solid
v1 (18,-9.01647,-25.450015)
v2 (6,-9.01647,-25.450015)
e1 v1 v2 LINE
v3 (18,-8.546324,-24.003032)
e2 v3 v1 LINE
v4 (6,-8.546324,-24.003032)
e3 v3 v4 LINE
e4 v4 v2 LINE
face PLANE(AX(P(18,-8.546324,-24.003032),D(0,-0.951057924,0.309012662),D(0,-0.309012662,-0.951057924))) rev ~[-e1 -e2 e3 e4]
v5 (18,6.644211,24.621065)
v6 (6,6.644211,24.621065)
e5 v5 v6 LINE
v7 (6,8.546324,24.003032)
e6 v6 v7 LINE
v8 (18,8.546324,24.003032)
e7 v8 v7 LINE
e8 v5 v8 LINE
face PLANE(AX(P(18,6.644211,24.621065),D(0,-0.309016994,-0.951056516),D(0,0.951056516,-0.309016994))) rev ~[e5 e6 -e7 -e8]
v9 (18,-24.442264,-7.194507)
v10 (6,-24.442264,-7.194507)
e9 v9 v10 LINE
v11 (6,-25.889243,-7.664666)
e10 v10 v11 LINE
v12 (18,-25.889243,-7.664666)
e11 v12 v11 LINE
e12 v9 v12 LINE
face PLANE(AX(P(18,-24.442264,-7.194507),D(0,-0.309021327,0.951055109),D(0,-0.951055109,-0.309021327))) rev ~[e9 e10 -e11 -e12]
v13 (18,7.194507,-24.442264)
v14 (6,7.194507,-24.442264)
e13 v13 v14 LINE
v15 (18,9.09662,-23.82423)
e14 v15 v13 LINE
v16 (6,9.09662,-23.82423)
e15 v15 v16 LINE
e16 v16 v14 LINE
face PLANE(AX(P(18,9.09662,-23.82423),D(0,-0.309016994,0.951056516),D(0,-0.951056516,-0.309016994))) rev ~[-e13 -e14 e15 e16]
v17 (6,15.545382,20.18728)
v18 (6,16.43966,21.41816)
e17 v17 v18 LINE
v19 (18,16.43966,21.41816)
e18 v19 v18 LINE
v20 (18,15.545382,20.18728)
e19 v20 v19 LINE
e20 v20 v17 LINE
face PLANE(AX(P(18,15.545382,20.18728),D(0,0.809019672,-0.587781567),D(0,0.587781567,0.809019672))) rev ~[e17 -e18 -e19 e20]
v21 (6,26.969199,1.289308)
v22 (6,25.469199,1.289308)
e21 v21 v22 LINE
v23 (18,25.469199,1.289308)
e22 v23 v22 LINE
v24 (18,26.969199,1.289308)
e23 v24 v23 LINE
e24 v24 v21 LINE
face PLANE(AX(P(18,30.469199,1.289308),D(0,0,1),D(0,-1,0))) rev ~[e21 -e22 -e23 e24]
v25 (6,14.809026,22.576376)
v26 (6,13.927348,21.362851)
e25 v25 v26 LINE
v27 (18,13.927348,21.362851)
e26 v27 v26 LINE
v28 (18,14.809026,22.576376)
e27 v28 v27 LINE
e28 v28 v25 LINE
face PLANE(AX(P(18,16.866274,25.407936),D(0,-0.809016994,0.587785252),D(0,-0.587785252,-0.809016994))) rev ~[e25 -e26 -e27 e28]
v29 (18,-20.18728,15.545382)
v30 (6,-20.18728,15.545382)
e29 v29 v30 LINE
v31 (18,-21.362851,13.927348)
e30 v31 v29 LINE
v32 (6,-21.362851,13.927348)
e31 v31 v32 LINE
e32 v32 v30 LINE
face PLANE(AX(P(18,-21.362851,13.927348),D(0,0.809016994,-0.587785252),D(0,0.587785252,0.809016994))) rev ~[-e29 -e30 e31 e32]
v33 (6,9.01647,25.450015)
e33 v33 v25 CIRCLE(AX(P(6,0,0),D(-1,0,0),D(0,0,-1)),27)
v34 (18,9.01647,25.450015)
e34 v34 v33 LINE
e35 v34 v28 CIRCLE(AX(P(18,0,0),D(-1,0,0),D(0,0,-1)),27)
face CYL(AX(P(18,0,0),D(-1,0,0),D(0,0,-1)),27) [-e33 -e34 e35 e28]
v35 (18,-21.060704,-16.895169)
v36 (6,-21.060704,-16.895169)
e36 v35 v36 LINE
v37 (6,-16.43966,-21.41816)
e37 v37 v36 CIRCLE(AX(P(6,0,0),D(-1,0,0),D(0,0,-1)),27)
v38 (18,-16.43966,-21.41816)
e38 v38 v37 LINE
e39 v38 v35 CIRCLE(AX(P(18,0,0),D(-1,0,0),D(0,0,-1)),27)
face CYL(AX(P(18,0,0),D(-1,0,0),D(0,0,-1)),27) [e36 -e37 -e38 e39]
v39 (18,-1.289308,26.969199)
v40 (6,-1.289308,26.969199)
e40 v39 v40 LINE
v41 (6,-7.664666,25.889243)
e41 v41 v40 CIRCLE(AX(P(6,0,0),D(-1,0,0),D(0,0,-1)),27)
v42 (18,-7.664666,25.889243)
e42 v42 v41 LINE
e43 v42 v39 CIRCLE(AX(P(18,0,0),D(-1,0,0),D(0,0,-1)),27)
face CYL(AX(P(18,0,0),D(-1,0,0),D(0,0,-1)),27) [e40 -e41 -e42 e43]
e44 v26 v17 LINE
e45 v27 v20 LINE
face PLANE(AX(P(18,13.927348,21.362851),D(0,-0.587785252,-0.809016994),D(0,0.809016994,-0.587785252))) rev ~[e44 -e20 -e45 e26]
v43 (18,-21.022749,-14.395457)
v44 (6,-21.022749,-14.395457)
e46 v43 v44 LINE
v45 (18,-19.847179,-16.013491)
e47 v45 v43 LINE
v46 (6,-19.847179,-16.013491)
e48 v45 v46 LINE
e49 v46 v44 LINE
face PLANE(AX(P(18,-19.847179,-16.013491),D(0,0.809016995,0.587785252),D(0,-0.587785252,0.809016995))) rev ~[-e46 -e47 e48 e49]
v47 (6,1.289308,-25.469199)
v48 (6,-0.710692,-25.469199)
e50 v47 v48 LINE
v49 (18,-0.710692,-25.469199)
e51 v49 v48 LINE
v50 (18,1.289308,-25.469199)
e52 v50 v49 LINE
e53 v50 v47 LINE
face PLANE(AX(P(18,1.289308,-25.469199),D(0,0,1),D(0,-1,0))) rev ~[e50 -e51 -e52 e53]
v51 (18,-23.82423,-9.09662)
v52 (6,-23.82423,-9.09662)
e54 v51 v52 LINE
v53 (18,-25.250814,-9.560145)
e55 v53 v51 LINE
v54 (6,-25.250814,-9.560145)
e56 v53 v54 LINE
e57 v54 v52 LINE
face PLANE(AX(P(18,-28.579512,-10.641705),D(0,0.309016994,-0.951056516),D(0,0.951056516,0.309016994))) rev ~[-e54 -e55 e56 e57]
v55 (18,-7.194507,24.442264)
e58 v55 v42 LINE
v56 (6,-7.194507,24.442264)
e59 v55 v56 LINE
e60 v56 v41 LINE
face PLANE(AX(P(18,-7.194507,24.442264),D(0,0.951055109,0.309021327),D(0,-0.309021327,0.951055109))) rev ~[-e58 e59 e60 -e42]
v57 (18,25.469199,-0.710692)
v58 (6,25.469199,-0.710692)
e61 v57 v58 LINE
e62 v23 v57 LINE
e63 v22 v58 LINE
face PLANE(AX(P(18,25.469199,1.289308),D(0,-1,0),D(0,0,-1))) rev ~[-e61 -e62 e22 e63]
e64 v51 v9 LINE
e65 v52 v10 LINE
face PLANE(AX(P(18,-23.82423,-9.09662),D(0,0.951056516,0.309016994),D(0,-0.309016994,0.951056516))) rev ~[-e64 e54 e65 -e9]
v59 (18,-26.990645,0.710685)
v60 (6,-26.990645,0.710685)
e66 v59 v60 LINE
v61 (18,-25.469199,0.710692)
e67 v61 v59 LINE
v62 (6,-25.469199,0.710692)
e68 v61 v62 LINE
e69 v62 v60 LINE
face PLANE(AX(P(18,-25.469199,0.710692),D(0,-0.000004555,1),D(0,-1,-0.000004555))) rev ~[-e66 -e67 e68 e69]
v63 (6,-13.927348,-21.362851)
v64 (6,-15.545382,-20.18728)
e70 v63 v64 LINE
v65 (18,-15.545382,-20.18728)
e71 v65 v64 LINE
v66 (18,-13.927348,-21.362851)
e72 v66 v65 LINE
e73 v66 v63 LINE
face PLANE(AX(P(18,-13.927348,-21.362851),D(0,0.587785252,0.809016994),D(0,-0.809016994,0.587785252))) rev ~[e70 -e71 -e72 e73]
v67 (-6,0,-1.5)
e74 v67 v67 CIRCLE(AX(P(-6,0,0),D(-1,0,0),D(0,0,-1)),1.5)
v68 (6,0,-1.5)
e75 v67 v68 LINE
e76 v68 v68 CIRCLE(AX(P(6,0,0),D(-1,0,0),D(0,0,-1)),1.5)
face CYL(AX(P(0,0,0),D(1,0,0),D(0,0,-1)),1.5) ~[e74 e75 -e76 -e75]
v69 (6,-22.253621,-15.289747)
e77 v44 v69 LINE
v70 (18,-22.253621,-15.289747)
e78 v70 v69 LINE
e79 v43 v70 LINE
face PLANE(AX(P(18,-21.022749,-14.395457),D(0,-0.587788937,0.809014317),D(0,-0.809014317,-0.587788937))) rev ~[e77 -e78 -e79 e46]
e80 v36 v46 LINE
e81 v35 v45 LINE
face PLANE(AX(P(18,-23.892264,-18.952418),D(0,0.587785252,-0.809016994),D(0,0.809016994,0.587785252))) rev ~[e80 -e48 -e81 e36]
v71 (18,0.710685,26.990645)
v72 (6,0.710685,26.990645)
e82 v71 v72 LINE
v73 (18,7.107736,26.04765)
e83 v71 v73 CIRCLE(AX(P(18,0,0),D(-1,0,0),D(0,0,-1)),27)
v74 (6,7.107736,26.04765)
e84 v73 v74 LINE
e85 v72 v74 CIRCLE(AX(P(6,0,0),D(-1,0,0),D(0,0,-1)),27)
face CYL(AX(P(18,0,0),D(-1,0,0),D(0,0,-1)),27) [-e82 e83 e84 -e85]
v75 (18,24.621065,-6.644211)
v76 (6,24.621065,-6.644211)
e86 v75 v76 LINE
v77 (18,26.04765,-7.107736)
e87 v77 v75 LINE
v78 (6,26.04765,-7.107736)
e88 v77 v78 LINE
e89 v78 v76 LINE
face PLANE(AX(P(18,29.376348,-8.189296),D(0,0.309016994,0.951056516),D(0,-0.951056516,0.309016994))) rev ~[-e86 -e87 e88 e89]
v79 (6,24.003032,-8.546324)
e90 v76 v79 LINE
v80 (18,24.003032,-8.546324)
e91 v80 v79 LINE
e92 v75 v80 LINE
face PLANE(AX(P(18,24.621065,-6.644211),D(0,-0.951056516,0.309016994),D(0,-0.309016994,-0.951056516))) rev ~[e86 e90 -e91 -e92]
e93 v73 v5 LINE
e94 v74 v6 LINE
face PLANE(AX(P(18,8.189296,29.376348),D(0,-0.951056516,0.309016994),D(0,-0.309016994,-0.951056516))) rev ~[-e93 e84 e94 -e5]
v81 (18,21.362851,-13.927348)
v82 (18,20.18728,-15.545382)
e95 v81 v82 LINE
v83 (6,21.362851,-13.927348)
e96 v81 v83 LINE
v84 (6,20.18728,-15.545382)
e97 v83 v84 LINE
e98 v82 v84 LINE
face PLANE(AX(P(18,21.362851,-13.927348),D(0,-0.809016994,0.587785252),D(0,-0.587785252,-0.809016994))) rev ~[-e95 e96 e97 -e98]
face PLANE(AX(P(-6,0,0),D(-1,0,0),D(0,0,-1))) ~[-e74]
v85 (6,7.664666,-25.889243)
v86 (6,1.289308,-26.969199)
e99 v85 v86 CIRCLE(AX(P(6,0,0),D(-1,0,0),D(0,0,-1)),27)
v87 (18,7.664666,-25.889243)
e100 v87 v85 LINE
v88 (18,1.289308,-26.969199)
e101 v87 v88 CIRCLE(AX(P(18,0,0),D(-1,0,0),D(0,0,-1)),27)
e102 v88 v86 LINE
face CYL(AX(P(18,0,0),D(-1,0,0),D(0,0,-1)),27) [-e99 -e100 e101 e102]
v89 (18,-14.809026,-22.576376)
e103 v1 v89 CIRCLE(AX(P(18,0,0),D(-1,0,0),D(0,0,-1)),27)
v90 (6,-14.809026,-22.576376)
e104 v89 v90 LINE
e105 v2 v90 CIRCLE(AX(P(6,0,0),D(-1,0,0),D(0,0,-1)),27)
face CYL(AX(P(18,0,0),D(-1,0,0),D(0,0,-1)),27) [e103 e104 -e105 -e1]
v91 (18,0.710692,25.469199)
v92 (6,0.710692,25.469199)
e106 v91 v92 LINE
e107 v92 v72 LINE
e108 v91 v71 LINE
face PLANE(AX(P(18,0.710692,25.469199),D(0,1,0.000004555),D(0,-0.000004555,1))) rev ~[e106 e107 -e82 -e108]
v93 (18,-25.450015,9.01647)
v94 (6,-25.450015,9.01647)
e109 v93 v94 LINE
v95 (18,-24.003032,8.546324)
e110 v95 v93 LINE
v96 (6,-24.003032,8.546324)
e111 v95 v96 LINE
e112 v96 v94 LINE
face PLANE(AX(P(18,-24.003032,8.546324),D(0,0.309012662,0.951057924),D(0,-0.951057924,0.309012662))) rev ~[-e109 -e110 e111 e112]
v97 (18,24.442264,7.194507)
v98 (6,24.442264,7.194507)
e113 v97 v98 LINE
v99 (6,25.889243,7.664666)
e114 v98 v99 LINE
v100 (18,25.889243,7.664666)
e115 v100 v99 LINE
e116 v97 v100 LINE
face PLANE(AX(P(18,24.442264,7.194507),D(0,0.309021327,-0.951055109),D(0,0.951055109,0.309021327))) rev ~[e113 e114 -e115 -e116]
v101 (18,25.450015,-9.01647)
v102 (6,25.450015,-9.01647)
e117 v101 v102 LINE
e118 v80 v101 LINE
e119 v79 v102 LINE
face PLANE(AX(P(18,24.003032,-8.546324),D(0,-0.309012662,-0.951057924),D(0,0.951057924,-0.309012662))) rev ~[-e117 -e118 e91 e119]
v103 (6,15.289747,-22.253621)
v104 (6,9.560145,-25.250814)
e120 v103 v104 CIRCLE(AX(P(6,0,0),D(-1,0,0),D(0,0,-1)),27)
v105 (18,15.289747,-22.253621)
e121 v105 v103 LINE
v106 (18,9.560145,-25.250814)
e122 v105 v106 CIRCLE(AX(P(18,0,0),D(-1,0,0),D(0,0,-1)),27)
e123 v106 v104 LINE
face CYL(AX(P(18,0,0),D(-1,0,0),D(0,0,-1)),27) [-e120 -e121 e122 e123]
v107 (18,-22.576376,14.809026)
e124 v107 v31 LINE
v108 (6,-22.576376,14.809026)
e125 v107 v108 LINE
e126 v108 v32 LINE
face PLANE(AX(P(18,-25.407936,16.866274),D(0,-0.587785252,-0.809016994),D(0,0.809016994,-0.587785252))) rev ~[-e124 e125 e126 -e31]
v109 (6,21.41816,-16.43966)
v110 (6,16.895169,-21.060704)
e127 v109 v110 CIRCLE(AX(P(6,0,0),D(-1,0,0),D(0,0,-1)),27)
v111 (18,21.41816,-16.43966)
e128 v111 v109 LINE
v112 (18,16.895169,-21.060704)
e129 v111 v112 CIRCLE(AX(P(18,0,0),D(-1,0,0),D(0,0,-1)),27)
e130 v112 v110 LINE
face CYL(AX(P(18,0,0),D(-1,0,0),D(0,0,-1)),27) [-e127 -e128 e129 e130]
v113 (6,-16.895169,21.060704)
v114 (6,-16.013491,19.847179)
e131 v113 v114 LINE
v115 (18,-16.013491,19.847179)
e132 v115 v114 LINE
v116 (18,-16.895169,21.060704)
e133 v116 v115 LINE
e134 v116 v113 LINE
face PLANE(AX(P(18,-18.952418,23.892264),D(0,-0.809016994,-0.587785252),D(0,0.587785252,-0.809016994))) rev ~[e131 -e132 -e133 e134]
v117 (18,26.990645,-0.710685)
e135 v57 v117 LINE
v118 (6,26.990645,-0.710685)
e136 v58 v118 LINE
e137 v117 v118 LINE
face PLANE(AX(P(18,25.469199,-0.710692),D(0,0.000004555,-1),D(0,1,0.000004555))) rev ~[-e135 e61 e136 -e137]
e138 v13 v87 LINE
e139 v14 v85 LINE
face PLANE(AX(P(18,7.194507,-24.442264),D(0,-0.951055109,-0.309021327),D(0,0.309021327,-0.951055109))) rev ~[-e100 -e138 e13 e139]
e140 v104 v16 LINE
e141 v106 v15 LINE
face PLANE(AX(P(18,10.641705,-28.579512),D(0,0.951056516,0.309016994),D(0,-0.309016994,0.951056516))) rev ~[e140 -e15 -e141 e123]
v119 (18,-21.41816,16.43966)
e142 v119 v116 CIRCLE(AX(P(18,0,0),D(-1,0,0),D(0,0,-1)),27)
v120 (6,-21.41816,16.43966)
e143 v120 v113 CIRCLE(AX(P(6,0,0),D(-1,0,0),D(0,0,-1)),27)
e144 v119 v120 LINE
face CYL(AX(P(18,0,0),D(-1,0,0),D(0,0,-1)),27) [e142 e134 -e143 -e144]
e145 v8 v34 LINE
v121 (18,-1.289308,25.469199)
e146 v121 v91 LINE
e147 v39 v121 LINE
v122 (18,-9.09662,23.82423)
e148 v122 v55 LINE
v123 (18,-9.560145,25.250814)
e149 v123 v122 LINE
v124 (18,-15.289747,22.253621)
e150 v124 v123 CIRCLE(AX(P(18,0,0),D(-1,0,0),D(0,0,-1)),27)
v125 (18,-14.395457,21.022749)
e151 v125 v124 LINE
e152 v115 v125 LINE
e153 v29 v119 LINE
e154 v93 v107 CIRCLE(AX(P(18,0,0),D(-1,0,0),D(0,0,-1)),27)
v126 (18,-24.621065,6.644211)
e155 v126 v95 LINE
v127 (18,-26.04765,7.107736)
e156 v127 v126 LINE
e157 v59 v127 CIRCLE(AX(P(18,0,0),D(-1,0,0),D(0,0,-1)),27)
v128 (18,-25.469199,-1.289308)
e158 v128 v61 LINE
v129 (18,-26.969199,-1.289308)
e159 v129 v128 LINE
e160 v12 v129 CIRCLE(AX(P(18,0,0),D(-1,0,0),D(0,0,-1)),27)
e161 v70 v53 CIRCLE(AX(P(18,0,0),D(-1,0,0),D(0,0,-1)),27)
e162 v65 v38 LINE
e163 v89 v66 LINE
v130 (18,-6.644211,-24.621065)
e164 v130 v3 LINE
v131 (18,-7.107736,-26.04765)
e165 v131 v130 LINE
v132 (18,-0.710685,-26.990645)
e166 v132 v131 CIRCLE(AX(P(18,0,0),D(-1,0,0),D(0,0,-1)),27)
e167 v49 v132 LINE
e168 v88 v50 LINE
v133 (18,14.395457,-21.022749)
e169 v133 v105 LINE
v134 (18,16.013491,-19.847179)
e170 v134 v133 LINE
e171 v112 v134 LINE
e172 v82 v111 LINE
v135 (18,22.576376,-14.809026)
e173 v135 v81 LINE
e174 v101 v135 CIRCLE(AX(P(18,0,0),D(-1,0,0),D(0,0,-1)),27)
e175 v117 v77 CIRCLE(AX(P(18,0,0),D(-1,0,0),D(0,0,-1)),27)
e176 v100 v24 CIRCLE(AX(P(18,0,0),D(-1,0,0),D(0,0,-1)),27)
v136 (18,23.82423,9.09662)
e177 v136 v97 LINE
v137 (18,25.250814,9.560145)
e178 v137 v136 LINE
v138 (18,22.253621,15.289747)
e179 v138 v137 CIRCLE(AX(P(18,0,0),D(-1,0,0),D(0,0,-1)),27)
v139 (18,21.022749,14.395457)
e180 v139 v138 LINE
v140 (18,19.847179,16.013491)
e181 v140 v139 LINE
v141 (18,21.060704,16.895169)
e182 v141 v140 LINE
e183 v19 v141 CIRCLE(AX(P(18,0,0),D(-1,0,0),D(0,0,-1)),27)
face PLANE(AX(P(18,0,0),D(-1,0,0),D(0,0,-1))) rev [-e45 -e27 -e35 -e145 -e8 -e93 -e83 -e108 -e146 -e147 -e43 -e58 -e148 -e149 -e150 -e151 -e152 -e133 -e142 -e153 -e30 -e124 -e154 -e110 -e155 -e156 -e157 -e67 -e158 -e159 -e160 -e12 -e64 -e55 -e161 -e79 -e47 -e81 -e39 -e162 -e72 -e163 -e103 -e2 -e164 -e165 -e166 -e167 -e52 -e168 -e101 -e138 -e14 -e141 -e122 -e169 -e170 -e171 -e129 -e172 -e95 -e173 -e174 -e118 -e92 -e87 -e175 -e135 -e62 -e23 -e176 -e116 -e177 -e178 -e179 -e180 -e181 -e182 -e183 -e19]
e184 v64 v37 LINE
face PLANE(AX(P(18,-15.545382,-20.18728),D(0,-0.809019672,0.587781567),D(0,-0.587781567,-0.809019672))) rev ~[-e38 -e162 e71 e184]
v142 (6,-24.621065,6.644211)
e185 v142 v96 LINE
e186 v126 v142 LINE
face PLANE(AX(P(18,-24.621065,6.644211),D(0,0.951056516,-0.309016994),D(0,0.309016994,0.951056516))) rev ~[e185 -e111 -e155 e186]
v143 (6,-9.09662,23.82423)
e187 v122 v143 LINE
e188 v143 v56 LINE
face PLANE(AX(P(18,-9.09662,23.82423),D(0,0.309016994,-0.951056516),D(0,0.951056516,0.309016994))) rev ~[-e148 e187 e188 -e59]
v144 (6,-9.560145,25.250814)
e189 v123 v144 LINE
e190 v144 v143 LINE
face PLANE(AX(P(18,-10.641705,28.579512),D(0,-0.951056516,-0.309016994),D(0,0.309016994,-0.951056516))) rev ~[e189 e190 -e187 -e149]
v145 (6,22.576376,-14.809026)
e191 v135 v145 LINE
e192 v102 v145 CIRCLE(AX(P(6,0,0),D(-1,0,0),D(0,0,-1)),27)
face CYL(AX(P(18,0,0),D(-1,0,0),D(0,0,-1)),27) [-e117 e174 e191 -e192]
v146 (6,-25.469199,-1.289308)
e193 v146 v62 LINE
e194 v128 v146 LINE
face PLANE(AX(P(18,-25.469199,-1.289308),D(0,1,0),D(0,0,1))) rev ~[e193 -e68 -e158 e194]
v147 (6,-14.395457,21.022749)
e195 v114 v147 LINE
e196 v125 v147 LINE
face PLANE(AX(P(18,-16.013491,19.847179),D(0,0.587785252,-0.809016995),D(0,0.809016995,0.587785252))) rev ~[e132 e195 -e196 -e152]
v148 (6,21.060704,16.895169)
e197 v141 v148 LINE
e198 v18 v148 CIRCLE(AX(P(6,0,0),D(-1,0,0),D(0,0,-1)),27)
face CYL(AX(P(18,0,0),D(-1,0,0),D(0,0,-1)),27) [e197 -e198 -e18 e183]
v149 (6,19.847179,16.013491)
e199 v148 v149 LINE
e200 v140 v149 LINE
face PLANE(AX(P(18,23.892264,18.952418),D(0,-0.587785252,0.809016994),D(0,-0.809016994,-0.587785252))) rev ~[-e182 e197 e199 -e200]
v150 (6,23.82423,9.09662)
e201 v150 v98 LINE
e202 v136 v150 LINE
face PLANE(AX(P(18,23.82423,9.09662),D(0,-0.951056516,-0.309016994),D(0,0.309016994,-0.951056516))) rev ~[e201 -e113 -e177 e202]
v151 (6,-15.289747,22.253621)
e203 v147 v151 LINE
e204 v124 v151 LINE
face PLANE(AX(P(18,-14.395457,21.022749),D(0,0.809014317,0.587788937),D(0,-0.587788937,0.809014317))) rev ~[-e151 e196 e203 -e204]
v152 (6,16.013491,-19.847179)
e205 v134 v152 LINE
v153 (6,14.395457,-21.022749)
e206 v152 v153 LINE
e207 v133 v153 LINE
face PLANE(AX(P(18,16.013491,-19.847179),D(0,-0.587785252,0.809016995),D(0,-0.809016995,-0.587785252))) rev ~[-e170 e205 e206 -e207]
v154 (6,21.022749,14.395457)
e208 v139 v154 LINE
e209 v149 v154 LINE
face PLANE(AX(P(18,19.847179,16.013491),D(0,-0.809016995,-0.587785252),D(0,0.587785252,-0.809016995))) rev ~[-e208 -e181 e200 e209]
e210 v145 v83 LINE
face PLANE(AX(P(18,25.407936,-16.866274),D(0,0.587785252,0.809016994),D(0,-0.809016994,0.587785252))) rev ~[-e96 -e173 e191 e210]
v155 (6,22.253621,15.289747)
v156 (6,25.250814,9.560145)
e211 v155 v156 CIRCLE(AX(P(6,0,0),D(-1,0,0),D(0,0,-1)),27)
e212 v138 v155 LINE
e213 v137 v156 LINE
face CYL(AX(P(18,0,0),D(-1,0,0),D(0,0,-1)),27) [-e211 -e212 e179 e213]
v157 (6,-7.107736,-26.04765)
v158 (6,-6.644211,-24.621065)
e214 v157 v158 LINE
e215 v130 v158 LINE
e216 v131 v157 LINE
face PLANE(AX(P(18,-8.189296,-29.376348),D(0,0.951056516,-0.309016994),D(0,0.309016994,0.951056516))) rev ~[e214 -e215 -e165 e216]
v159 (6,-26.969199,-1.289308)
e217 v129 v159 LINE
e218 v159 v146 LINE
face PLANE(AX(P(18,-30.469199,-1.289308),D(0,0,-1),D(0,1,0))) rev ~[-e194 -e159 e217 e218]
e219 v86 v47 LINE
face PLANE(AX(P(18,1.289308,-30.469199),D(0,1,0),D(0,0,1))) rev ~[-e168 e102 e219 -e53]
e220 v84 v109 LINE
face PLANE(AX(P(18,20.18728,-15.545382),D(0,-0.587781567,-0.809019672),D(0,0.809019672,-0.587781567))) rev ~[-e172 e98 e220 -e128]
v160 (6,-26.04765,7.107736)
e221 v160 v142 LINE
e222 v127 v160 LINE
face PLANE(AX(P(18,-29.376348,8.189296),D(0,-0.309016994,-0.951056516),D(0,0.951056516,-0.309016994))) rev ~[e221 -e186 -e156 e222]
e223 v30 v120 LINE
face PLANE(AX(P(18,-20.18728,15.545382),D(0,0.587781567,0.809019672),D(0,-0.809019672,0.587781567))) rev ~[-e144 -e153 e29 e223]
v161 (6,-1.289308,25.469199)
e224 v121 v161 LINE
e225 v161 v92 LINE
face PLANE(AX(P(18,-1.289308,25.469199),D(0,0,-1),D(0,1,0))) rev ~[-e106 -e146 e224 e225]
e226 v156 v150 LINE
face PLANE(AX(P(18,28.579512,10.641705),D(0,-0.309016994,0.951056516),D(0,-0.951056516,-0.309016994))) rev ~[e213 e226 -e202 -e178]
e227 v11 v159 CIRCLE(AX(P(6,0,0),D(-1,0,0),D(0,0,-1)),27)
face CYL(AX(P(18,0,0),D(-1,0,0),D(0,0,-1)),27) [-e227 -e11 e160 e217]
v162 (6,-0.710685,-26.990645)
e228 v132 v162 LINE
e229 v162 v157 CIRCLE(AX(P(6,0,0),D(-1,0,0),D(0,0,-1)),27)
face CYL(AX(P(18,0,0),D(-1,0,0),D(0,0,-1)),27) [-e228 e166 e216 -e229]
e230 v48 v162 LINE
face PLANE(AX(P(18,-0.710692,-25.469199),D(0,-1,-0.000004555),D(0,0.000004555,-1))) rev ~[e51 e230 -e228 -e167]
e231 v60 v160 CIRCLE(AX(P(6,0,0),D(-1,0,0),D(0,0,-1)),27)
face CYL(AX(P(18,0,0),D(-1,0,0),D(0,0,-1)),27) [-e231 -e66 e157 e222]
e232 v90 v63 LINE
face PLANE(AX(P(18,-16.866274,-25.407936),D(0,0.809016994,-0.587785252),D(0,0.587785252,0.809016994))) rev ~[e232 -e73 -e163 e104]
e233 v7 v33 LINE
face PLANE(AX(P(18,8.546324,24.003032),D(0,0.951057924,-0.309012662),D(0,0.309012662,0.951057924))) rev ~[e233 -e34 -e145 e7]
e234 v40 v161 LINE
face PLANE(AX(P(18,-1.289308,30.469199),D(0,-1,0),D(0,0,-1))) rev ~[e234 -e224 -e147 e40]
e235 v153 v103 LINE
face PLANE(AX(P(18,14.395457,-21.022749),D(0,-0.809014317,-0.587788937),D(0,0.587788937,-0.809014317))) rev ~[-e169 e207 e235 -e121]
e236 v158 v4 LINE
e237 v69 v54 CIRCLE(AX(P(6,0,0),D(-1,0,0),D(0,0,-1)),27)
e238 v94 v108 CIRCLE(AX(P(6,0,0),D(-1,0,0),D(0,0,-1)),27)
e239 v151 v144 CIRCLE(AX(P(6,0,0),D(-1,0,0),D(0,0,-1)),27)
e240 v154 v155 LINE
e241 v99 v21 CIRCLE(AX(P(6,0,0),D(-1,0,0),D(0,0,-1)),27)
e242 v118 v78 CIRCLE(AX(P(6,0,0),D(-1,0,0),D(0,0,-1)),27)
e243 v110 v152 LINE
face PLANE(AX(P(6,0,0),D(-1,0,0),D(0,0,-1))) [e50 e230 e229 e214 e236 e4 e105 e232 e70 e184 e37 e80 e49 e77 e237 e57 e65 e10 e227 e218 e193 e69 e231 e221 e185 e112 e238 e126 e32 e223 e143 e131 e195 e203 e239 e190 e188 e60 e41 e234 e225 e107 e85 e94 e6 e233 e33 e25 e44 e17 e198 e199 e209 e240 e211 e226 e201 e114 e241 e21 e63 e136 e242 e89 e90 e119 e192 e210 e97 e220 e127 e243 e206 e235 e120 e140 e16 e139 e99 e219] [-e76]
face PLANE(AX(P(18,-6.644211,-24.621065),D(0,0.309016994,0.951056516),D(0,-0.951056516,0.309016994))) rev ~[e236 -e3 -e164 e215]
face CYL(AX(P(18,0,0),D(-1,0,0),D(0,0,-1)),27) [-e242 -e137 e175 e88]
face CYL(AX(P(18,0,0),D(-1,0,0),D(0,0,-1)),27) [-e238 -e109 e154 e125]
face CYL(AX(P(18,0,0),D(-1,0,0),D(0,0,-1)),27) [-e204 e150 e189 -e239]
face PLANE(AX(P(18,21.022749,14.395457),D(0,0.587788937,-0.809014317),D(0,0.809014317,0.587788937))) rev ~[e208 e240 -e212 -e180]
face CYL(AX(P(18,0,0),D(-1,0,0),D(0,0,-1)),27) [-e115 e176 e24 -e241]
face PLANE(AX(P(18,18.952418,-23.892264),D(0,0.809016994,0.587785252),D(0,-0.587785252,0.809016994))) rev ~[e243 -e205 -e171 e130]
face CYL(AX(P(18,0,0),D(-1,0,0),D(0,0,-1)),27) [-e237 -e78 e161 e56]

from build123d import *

# Parameters (mm, degrees)
SKETCH2_W          = 12
SKETCH2_H          = 1.5
CUT_EXTRUDE3_DEPTH = 12


with BuildPart() as part:
    # Sketch2 → Revolve1 (revolve)
    with BuildSketch(Plane.XY, mode=Mode.PRIVATE) as revolve1_sk:
        Polygon((6, 1.5), (6, 0), (18, 0), (18, 27), (6, 27), align=None)
        with Locations((0, 0.75)):
            Rectangle(SKETCH2_W, SKETCH2_H)
    revolve(revolve1_sk.sketch.rotate(Axis((6, 0, 0), (-1, 0, 0)), 90), axis=Axis((6, 0, 0), (-1, 0, 0)))

    # Sketch3 → Cut-Extrude3 (cut)
    with BuildSketch(Plane(origin=(18, 0, 0), x_dir=(0, 0, -1), z_dir=(1, 0, 0))):
        Polygon((-7.194506707, 24.442263521), (-8.742565729, 29.206625443), (-10.641704711, 28.579512114), (-9.096619739, 23.824229533), align=None)
        Polygon((0.710692324, 25.469198833), (0.710669504, 30.478752832), (-1.289307676, 30.469198833), (-1.289307676, 25.469198833), align=None)
        Polygon((8.546323839, 24.003031509), (10.094339455, 28.767407535), (8.189295778, 29.37634808), (6.644210806, 24.621065498), align=None)
        Polygon((15.54538163, 20.187280222), (18.489905129, 24.240107954), (16.866273903, 25.407935699), (13.927347641, 21.362850727), align=None)
        Polygon((21.022749156, 14.395457294), (25.075550062, 17.340017716), (23.892263624, 18.952417544), (19.847178652, 16.013491283), align=None)
        Polygon((24.442263521, 7.194506707), (29.206625443, 8.742565729), (28.579512114, 10.641704711), (23.824229533, 9.096619739), align=None)
        Polygon((25.469198833, -0.710692324), (30.478752832, -0.710669504), (30.469198833, 1.289307676), (25.469198833, 1.289307676), align=None)
        Polygon((24.003031509, -8.546323839), (28.767407535, -10.094339455), (29.37634808, -8.189295778), (24.621065498, -6.644210806), align=None)
        Polygon((20.187280222, -15.54538163), (24.240107954, -18.489905129), (25.407935699, -16.866273903), (21.362850727, -13.927347641), align=None)
        Polygon((14.395457294, -21.022749156), (17.340017716, -25.075550062), (18.952417544, -23.892263624), (16.013491283, -19.847178652), align=None)
        Polygon((7.194506707, -24.442263521), (8.742565729, -29.206625443), (10.641704711, -28.579512114), (9.096619739, -23.824229533), align=None)
        Polygon((-0.710692324, -25.469198833), (-0.710669504, -30.478752832), (1.289307676, -30.469198833), (1.289307676, -25.469198833), align=None)
        Polygon((-8.546323839, -24.003031509), (-10.094339455, -28.767407535), (-8.189295778, -29.37634808), (-6.644210806, -24.621065498), align=None)
        Polygon((-15.54538163, -20.187280222), (-18.489905129, -24.240107954), (-16.866273903, -25.407935699), (-13.927347641, -21.362850727), align=None)
        Polygon((-21.022749156, -14.395457294), (-25.075550062, -17.340017716), (-23.892263624, -18.952417544), (-19.847178652, -16.013491283), align=None)
        Polygon((-24.442263521, -7.194506707), (-29.206625443, -8.742565729), (-28.579512114, -10.641704711), (-23.824229533, -9.096619739), align=None)
        Polygon((-25.469198833, 0.710692324), (-30.478752832, 0.710669504), (-30.469198833, -1.289307676), (-25.469198833, -1.289307676), align=None)
        Polygon((-24.003031509, 8.546323839), (-28.767407535, 10.094339455), (-29.37634808, 8.189295778), (-24.621065498, 6.644210806), align=None)
        Polygon((-20.187280222, 15.54538163), (-24.240107954, 18.489905129), (-25.407935699, 16.866273903), (-21.362850727, 13.927347641), align=None)
        Polygon((-14.395457294, 21.022749156), (-17.340017716, 25.075550062), (-18.952417544, 23.892263624), (-16.013491283, 19.847178652), align=None)
    extrude(amount=-CUT_EXTRUDE3_DEPTH, mode=Mode.SUBTRACT)


solid = part.part
